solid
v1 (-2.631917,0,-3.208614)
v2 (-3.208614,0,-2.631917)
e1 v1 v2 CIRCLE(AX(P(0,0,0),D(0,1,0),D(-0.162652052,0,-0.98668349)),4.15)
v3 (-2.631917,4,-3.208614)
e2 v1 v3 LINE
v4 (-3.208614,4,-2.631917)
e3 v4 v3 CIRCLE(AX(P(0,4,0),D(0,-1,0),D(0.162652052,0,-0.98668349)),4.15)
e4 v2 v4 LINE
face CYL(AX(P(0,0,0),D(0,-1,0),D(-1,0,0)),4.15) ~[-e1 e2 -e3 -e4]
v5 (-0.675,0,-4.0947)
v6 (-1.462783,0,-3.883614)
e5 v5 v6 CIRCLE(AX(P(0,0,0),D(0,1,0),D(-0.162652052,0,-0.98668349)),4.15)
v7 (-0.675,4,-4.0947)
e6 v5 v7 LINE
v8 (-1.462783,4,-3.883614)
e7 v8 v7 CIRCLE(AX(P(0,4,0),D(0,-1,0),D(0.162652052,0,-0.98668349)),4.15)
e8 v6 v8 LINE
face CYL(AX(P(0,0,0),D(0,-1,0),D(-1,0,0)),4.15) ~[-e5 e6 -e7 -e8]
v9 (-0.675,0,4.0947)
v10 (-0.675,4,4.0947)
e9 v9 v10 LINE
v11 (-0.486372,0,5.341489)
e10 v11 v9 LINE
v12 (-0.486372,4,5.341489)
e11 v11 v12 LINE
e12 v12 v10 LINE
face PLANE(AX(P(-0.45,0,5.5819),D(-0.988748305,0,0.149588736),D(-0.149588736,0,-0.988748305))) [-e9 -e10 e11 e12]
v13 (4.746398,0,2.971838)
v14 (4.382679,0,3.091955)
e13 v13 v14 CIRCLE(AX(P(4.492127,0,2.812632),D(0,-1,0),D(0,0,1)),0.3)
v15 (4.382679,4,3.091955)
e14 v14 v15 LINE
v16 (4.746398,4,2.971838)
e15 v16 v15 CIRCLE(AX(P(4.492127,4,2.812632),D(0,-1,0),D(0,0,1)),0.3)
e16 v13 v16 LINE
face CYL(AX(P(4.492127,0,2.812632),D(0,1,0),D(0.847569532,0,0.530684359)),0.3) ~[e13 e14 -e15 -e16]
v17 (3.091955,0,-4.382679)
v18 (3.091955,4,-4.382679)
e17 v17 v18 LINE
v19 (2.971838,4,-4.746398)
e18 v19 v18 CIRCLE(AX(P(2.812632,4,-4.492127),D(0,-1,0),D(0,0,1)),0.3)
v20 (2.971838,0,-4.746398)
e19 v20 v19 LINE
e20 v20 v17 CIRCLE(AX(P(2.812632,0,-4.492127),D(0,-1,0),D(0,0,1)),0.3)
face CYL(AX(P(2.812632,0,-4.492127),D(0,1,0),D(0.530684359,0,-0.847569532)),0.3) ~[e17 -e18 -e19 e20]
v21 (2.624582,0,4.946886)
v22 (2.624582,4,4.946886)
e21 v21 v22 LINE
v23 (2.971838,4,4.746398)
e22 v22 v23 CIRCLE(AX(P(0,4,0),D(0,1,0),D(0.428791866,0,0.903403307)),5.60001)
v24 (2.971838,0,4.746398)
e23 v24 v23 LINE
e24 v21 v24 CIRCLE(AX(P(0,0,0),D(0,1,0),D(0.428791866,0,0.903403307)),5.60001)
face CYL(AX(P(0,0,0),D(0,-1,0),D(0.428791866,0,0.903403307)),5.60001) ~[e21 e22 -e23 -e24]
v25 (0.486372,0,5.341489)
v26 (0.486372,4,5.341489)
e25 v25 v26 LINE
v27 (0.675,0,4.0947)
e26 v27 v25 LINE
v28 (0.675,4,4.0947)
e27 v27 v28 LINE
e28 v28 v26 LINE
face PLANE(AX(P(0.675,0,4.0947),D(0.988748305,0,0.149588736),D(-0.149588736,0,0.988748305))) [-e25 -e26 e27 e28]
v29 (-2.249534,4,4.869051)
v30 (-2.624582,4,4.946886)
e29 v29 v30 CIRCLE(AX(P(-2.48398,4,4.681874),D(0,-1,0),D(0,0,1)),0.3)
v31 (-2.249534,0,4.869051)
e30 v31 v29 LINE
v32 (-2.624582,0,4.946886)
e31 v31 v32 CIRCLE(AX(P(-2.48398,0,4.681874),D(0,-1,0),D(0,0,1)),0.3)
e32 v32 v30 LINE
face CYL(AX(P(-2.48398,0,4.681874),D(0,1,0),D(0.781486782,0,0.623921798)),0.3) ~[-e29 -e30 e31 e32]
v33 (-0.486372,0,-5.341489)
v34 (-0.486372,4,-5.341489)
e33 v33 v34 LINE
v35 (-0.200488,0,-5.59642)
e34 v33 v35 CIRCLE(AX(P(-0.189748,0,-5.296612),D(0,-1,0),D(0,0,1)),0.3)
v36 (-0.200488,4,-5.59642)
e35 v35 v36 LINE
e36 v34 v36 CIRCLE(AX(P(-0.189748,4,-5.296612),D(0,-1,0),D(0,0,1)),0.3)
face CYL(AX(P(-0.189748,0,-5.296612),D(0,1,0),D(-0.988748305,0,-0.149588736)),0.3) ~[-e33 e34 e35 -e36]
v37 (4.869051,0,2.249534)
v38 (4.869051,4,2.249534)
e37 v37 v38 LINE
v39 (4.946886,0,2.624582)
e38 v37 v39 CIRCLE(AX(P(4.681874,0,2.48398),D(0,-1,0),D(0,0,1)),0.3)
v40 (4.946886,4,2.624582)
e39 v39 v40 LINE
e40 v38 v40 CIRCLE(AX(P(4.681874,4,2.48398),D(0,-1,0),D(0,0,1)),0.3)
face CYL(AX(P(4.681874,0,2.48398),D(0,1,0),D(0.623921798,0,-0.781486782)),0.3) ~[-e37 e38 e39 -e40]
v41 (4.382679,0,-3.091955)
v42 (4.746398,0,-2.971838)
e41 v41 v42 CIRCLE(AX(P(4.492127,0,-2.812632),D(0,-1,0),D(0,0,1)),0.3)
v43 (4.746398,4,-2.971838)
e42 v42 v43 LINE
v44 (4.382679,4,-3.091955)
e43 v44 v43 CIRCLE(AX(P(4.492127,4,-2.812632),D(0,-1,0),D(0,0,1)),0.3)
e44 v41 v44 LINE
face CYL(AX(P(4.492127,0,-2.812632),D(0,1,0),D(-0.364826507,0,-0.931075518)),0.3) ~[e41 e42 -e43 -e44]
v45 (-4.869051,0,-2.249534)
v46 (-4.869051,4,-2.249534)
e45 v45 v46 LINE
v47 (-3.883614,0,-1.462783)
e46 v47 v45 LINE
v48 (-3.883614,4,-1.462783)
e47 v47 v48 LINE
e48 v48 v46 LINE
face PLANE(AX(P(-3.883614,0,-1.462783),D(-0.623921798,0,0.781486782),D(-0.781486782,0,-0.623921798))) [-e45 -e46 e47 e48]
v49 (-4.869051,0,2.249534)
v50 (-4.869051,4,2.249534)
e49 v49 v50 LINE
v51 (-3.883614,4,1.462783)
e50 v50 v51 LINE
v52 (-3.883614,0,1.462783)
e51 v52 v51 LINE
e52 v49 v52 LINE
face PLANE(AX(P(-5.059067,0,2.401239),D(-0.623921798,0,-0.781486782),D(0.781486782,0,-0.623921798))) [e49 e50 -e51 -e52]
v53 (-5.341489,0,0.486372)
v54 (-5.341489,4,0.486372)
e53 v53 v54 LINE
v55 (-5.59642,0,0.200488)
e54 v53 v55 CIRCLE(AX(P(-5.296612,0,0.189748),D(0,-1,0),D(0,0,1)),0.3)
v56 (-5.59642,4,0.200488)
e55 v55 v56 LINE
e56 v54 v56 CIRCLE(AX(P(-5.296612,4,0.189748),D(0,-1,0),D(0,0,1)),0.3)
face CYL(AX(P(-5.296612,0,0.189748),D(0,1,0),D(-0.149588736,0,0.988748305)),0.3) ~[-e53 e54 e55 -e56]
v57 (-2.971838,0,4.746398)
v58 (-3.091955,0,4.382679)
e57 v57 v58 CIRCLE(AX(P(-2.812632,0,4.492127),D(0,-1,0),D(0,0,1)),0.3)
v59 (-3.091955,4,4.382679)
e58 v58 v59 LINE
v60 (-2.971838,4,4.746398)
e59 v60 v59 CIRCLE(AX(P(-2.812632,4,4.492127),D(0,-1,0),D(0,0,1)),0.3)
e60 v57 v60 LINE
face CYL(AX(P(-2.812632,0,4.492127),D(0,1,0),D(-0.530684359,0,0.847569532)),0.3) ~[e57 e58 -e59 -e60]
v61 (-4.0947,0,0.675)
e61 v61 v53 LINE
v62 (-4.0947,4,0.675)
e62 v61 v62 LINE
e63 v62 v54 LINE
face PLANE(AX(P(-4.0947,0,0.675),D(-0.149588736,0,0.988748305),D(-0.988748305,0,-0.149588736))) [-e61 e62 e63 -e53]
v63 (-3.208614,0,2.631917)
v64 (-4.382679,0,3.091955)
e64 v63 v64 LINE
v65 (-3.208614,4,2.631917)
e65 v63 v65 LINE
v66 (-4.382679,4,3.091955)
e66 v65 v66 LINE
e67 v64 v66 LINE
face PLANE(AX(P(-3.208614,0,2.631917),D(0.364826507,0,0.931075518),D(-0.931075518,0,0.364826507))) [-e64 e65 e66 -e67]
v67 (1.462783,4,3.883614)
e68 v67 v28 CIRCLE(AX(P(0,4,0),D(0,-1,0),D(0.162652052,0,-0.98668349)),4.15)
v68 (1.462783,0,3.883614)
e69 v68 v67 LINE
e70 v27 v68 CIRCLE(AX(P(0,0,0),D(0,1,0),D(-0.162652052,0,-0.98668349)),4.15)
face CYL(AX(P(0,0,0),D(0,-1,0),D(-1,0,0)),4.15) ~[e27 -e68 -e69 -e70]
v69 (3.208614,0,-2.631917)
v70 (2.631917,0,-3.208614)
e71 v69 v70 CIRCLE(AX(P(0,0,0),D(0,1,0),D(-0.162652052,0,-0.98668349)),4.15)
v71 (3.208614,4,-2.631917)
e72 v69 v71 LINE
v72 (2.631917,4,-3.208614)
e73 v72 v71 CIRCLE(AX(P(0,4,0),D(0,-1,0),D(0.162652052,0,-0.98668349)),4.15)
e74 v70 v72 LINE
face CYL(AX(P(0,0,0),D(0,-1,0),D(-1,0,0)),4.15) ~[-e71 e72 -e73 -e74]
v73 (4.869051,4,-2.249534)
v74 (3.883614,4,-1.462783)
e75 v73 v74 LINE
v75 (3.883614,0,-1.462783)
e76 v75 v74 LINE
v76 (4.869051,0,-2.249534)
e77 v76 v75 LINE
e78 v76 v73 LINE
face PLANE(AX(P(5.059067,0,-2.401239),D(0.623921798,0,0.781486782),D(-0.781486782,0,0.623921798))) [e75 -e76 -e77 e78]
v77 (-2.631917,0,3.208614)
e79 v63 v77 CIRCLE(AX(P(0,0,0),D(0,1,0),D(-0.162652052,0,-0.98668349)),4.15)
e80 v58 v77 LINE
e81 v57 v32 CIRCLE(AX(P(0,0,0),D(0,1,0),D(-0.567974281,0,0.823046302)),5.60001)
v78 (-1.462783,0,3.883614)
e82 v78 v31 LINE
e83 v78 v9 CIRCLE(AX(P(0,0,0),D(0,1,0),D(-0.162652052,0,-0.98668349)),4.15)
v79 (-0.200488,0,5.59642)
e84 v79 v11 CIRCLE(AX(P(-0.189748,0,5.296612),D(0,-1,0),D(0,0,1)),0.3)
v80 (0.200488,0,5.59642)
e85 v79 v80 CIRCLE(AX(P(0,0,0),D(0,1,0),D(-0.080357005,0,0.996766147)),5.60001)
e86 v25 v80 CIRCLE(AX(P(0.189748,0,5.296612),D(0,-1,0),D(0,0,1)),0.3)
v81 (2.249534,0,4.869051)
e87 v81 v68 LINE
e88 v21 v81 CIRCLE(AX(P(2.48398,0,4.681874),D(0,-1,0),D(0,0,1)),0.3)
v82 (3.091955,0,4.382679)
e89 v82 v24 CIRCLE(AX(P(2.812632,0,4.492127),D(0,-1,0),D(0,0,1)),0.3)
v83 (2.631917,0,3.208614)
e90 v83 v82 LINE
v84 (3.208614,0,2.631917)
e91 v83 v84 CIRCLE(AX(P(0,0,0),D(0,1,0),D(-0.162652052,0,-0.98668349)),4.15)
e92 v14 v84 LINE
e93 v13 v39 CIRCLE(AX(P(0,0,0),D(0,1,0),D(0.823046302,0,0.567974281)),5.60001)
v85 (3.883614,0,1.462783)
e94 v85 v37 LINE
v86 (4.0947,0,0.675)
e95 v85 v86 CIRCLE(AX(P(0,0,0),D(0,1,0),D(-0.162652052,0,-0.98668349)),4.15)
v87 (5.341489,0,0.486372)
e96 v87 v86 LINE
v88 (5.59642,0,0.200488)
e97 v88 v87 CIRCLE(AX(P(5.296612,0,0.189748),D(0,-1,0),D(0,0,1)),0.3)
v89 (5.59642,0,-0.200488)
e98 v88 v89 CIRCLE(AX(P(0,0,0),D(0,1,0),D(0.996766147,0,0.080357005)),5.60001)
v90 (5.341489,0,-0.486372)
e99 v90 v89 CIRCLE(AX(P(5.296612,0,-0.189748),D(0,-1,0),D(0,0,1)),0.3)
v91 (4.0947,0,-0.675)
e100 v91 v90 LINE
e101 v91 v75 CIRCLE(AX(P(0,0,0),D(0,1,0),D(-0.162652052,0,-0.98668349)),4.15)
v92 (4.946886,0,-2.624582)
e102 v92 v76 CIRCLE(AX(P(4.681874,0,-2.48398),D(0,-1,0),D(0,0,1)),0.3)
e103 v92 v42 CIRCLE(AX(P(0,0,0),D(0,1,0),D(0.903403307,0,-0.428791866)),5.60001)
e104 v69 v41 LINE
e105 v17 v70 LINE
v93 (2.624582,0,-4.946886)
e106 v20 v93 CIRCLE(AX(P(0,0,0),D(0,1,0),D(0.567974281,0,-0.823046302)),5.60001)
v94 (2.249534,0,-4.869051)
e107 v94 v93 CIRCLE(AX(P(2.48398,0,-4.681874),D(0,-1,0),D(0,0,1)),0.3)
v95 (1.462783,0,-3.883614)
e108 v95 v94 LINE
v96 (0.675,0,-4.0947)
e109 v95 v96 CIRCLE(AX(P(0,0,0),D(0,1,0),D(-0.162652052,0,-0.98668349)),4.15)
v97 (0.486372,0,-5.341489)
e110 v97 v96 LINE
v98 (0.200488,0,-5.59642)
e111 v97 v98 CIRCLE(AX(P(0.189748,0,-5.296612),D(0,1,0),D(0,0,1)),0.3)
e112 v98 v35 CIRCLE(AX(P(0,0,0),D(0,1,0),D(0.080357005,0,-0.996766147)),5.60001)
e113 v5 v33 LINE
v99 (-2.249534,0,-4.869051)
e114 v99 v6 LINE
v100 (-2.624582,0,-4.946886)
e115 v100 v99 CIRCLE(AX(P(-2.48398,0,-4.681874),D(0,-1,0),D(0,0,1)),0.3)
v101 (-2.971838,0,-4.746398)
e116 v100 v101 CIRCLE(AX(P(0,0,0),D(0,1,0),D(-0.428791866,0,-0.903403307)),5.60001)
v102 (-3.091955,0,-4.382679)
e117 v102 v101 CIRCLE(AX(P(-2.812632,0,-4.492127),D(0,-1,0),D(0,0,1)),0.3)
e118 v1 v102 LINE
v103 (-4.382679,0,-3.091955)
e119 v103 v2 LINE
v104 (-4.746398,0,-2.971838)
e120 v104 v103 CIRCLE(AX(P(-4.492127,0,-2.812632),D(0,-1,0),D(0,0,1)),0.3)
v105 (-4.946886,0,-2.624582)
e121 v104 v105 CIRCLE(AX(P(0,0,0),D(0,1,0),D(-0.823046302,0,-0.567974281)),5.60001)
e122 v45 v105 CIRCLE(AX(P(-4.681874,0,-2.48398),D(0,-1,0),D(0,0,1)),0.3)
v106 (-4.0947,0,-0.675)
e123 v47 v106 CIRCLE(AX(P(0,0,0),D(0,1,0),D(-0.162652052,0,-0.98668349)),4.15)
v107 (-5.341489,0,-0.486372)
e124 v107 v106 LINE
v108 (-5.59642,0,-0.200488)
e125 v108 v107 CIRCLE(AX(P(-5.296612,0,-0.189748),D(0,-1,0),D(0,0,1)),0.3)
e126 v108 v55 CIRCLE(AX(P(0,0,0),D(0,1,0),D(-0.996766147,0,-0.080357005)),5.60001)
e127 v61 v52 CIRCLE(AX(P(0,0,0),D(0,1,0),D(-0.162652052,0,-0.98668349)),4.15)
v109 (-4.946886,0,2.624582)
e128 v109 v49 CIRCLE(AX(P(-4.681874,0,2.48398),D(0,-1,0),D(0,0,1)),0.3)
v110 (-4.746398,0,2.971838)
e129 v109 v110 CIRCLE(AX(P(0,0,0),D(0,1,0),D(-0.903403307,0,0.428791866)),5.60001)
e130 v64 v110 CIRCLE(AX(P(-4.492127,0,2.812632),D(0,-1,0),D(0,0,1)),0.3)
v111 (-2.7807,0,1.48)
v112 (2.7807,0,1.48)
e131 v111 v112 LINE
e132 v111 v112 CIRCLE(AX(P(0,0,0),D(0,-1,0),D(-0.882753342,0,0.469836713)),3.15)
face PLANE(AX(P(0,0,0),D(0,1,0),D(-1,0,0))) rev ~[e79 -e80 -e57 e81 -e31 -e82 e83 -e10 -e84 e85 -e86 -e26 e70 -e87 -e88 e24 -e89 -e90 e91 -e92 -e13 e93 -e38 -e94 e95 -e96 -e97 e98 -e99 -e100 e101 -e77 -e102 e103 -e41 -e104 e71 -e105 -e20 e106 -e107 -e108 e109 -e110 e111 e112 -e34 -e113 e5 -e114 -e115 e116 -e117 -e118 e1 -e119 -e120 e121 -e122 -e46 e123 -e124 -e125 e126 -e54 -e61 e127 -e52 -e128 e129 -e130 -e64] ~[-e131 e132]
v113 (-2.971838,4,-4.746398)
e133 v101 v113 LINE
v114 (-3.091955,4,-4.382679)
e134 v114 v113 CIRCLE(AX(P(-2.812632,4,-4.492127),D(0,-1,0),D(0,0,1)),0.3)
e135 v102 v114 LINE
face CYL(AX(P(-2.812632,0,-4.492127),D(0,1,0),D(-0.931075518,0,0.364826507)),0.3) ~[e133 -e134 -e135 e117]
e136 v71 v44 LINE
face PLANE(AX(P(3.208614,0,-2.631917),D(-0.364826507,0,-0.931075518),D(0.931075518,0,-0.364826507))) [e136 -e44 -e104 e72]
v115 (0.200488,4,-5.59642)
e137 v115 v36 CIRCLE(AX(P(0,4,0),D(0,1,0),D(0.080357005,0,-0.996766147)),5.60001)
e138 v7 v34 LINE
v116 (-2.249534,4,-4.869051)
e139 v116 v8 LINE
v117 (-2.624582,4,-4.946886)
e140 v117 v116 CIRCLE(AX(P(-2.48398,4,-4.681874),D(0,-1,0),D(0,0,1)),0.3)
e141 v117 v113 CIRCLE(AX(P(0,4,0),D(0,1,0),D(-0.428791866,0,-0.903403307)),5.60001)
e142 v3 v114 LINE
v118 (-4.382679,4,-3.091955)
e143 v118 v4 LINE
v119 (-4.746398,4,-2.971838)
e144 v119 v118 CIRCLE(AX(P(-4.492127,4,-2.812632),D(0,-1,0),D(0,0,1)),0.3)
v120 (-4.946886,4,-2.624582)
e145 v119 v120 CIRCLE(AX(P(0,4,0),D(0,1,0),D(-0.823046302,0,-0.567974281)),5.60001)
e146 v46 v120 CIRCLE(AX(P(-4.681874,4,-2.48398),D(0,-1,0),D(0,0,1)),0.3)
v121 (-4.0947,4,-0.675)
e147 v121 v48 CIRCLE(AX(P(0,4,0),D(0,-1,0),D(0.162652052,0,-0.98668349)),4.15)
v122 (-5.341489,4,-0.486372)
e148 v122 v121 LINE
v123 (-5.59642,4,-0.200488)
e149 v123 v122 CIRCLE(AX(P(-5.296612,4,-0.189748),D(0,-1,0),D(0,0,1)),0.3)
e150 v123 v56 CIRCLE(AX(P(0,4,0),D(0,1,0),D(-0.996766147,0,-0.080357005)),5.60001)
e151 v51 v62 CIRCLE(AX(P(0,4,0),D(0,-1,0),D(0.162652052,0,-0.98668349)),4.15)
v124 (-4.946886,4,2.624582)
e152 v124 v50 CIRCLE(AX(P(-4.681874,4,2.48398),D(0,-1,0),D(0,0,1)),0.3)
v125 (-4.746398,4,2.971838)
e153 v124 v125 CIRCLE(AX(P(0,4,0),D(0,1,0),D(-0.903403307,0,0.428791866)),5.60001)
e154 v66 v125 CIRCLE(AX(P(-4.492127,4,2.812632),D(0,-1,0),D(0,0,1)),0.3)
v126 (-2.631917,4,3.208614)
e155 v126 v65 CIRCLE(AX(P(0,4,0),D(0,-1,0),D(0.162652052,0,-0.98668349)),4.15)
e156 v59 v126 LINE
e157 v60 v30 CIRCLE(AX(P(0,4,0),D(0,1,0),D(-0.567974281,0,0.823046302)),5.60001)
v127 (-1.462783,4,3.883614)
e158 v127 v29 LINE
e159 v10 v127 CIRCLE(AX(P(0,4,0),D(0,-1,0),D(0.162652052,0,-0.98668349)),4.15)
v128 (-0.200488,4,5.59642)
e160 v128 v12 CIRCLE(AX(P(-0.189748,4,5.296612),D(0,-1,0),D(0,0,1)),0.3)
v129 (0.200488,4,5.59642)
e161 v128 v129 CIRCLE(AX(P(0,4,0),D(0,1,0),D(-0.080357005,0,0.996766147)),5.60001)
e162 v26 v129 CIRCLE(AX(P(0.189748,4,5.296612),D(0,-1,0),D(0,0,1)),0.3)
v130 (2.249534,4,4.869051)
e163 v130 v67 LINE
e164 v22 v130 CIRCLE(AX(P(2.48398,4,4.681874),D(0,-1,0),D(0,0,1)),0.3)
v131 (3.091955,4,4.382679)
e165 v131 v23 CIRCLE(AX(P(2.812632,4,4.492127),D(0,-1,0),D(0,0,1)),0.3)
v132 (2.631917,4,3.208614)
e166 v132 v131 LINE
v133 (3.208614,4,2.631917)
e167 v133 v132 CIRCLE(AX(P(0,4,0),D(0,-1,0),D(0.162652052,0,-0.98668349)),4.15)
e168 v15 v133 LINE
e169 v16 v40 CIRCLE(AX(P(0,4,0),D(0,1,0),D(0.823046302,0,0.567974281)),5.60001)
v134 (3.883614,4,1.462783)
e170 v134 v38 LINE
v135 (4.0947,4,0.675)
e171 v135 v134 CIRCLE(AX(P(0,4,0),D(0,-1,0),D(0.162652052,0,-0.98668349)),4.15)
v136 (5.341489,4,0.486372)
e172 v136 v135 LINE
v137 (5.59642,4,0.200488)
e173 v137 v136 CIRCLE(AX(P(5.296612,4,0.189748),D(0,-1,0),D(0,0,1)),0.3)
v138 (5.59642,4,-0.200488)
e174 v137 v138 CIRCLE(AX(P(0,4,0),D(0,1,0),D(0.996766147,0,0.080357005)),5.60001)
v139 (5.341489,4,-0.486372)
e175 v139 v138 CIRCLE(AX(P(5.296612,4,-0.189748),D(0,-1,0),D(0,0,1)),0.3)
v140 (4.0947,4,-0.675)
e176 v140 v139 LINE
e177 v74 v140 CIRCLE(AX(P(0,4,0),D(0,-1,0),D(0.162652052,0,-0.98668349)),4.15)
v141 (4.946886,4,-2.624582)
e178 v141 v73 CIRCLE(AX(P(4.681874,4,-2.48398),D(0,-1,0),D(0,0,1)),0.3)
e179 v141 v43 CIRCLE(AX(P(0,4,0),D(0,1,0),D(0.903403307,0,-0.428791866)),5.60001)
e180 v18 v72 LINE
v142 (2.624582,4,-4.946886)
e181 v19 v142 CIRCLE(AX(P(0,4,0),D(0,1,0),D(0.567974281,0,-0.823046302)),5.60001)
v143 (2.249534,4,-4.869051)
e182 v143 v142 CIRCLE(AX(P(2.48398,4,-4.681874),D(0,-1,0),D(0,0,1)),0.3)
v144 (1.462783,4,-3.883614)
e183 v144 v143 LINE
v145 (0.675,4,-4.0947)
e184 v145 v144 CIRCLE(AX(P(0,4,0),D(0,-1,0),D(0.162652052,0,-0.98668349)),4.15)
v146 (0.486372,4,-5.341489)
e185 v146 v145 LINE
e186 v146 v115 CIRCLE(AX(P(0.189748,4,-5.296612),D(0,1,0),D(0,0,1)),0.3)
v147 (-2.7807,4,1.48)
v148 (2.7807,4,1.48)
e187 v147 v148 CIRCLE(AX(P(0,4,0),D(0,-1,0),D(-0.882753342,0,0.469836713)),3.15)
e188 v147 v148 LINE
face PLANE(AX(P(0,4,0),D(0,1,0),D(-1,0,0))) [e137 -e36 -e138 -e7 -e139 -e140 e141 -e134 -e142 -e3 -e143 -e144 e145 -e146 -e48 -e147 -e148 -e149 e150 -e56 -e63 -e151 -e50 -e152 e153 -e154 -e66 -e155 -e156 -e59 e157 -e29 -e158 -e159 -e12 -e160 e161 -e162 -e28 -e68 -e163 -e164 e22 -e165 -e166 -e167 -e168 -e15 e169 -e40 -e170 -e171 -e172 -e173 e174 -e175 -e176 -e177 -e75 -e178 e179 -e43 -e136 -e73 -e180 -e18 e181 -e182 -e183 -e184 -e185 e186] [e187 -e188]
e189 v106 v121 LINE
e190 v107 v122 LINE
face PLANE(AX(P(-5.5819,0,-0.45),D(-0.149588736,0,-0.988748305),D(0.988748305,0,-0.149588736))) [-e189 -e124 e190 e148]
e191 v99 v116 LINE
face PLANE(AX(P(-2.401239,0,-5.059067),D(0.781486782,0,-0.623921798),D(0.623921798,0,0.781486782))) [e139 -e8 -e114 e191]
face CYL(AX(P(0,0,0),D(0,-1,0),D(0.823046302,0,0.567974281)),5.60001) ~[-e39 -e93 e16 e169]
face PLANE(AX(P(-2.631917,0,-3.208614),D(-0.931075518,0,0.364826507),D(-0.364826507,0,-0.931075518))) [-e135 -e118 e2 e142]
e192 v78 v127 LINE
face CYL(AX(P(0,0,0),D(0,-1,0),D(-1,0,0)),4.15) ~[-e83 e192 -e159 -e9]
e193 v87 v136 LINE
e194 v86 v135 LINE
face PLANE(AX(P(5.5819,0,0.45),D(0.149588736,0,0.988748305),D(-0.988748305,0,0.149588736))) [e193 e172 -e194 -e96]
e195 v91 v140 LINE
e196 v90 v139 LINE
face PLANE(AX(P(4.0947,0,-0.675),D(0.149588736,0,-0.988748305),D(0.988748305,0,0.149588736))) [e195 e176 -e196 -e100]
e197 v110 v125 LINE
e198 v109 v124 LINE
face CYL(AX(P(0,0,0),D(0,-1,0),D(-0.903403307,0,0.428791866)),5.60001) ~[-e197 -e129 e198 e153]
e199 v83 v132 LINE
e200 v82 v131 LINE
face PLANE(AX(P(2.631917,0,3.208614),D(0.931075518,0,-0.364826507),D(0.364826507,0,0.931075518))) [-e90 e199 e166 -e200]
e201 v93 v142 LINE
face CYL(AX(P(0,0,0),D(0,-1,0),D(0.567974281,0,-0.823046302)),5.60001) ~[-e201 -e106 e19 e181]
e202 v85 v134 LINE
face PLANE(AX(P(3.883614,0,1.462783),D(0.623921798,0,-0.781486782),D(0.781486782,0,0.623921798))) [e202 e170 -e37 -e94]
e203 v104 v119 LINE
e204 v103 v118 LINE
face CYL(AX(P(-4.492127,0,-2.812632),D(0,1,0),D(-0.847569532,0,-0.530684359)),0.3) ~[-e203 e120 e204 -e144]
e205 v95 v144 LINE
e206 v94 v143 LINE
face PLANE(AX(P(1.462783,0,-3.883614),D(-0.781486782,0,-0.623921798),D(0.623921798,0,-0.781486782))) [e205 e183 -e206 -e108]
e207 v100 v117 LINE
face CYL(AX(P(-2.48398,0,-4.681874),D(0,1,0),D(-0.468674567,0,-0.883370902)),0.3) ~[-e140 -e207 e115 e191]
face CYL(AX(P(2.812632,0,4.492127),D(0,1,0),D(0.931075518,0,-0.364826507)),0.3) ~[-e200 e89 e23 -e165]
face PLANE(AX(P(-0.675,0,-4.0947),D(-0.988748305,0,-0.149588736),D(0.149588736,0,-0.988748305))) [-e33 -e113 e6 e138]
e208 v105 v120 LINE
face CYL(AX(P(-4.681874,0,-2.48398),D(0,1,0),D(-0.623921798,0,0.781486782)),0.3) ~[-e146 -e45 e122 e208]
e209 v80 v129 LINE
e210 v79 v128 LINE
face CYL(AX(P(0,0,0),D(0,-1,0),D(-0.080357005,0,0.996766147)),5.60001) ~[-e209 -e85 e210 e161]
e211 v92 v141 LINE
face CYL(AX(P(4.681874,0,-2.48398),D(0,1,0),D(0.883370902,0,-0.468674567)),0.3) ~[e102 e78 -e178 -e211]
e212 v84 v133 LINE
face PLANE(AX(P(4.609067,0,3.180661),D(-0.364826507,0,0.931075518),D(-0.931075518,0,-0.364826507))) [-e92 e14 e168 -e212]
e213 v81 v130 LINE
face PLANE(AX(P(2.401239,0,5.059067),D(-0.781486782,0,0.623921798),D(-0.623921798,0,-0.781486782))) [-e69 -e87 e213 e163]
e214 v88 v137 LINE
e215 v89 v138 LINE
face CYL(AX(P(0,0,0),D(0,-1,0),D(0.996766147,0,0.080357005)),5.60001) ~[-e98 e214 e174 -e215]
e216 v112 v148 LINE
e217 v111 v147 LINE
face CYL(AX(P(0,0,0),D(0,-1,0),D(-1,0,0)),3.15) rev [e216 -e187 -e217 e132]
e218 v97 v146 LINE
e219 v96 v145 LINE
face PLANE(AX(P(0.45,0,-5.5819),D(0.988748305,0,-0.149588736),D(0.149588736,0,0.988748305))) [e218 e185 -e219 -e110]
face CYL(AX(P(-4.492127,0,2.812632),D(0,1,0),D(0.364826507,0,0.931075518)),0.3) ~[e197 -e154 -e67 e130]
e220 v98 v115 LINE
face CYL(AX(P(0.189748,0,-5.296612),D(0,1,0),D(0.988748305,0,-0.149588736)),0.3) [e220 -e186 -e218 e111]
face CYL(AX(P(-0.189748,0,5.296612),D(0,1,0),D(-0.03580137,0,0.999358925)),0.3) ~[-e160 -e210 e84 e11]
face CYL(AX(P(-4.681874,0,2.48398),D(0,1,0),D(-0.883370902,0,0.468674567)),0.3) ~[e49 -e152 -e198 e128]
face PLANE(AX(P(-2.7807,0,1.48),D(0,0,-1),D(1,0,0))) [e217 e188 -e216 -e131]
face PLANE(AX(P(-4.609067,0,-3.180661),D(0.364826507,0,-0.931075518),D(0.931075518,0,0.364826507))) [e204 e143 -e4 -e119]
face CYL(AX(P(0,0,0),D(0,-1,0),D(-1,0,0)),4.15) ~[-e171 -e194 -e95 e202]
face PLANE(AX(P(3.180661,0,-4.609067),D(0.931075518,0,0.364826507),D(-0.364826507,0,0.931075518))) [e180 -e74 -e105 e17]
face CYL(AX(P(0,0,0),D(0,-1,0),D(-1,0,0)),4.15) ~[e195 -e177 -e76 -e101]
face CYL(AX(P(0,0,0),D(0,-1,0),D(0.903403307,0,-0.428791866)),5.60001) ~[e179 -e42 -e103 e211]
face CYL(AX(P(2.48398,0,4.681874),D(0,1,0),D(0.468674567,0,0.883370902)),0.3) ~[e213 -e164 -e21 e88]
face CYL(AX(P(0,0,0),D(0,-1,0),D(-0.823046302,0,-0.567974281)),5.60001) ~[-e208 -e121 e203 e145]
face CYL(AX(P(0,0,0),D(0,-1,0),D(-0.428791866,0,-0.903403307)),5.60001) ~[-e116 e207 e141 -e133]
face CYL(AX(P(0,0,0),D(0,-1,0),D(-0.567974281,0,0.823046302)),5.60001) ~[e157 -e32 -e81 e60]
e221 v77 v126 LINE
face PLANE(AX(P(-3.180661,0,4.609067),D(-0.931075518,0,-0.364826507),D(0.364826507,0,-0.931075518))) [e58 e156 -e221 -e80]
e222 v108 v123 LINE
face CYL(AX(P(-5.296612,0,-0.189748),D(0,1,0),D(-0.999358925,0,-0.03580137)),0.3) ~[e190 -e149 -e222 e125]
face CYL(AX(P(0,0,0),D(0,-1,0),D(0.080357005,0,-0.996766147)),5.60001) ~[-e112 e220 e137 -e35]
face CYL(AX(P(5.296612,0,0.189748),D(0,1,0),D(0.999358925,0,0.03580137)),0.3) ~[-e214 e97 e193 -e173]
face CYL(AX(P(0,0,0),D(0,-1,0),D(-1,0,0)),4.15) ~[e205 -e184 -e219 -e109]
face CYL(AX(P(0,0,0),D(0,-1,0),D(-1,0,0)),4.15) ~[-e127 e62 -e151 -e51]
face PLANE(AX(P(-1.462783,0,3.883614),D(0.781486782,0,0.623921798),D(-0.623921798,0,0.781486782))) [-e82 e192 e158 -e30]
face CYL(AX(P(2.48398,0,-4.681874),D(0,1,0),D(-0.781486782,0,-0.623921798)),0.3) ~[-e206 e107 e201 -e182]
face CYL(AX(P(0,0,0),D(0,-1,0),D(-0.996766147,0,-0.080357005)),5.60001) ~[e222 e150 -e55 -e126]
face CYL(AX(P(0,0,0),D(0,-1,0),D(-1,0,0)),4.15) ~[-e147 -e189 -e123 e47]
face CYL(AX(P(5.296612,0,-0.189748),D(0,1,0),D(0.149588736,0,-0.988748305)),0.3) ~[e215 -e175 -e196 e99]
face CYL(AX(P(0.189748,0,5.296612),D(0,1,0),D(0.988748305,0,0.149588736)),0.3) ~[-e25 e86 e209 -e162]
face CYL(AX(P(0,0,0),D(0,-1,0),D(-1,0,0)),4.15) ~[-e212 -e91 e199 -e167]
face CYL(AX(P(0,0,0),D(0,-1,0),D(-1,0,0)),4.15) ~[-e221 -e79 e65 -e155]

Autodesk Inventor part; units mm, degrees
ref_plane "YZ Plane" through (0, 0, 0) normal (1, 0, 0) x (0, 1, 0)
ref_plane "XZ Plane" through (0, 0, 0) normal (0, 1, 0) x (-1, 0, 0)
ref_plane "XY Plane" through (0, 0, 0) normal (0, 0, 1) x (1, 0, 0)
sketch "Sketch1" plane through (0, 0, 0) normal (0, 1, 0) x (-1, 0, 0)
  arc A0 (0.45, -5.5819) -> (-0.45, -5.5819) centre (0, 0) ccw construction
  circle A1 centre (0, 0) radius 4.15
  line L0 (-0.45, -5.5819) -> (-0.675, -4.0947)
  line L1 (0.675, -4.0947) -> (0.45, -5.5819)
  line L2 (0.675, -4.0947) -> (-0.675, -4.0947) construction
  line L3 (0.45, -5.5819) -> (-0.45, -5.5819) construction
  arc A2 (-0.45, -5.5819) -> (0.45, -5.5819) centre (0, 0) ccw
  circle A3 centre (0, 0) radius 3 construction
  circle A4 centre (0, 0) radius 3.15
  line L4 (2.7807, 1.48) -> (-2.7807, 1.48)
  dimension "d1" = 11.2
  dimension "d2" = 8.3
  dimension "d3" = 0.9
  dimension "d4" = 1.35
  dimension "d13" = 6
  dimension "d16" = 0.15
  dimension "d17" = 1.48
extrude "Extrusion1" add sketch "Sketch1" along normal blind 4 contours A1 | A4 L4 | L4 A4
extrude "Extrusion2" add sketch "Sketch1" along normal blind 4 contours A1 L1 A2 L0
fillet "Fillet1" radius 0.3 2 edges at (0.45, 2, -5.5819) (-0.45, 2, -5.5819)
pattern_circular "Circular Pattern1" count 12 over 360 about axis through (0, 0, 0) along (0, 1, 0) of "Extrusion2", "Fillet1"
extrude "Extrusion3" cut sketch "Sketch1" along normal blind 4 contours A4 L4 picked at (1.2217, -1.3888)
properties part number "Motor Shaft Gear E" material "ABS Plastic"
